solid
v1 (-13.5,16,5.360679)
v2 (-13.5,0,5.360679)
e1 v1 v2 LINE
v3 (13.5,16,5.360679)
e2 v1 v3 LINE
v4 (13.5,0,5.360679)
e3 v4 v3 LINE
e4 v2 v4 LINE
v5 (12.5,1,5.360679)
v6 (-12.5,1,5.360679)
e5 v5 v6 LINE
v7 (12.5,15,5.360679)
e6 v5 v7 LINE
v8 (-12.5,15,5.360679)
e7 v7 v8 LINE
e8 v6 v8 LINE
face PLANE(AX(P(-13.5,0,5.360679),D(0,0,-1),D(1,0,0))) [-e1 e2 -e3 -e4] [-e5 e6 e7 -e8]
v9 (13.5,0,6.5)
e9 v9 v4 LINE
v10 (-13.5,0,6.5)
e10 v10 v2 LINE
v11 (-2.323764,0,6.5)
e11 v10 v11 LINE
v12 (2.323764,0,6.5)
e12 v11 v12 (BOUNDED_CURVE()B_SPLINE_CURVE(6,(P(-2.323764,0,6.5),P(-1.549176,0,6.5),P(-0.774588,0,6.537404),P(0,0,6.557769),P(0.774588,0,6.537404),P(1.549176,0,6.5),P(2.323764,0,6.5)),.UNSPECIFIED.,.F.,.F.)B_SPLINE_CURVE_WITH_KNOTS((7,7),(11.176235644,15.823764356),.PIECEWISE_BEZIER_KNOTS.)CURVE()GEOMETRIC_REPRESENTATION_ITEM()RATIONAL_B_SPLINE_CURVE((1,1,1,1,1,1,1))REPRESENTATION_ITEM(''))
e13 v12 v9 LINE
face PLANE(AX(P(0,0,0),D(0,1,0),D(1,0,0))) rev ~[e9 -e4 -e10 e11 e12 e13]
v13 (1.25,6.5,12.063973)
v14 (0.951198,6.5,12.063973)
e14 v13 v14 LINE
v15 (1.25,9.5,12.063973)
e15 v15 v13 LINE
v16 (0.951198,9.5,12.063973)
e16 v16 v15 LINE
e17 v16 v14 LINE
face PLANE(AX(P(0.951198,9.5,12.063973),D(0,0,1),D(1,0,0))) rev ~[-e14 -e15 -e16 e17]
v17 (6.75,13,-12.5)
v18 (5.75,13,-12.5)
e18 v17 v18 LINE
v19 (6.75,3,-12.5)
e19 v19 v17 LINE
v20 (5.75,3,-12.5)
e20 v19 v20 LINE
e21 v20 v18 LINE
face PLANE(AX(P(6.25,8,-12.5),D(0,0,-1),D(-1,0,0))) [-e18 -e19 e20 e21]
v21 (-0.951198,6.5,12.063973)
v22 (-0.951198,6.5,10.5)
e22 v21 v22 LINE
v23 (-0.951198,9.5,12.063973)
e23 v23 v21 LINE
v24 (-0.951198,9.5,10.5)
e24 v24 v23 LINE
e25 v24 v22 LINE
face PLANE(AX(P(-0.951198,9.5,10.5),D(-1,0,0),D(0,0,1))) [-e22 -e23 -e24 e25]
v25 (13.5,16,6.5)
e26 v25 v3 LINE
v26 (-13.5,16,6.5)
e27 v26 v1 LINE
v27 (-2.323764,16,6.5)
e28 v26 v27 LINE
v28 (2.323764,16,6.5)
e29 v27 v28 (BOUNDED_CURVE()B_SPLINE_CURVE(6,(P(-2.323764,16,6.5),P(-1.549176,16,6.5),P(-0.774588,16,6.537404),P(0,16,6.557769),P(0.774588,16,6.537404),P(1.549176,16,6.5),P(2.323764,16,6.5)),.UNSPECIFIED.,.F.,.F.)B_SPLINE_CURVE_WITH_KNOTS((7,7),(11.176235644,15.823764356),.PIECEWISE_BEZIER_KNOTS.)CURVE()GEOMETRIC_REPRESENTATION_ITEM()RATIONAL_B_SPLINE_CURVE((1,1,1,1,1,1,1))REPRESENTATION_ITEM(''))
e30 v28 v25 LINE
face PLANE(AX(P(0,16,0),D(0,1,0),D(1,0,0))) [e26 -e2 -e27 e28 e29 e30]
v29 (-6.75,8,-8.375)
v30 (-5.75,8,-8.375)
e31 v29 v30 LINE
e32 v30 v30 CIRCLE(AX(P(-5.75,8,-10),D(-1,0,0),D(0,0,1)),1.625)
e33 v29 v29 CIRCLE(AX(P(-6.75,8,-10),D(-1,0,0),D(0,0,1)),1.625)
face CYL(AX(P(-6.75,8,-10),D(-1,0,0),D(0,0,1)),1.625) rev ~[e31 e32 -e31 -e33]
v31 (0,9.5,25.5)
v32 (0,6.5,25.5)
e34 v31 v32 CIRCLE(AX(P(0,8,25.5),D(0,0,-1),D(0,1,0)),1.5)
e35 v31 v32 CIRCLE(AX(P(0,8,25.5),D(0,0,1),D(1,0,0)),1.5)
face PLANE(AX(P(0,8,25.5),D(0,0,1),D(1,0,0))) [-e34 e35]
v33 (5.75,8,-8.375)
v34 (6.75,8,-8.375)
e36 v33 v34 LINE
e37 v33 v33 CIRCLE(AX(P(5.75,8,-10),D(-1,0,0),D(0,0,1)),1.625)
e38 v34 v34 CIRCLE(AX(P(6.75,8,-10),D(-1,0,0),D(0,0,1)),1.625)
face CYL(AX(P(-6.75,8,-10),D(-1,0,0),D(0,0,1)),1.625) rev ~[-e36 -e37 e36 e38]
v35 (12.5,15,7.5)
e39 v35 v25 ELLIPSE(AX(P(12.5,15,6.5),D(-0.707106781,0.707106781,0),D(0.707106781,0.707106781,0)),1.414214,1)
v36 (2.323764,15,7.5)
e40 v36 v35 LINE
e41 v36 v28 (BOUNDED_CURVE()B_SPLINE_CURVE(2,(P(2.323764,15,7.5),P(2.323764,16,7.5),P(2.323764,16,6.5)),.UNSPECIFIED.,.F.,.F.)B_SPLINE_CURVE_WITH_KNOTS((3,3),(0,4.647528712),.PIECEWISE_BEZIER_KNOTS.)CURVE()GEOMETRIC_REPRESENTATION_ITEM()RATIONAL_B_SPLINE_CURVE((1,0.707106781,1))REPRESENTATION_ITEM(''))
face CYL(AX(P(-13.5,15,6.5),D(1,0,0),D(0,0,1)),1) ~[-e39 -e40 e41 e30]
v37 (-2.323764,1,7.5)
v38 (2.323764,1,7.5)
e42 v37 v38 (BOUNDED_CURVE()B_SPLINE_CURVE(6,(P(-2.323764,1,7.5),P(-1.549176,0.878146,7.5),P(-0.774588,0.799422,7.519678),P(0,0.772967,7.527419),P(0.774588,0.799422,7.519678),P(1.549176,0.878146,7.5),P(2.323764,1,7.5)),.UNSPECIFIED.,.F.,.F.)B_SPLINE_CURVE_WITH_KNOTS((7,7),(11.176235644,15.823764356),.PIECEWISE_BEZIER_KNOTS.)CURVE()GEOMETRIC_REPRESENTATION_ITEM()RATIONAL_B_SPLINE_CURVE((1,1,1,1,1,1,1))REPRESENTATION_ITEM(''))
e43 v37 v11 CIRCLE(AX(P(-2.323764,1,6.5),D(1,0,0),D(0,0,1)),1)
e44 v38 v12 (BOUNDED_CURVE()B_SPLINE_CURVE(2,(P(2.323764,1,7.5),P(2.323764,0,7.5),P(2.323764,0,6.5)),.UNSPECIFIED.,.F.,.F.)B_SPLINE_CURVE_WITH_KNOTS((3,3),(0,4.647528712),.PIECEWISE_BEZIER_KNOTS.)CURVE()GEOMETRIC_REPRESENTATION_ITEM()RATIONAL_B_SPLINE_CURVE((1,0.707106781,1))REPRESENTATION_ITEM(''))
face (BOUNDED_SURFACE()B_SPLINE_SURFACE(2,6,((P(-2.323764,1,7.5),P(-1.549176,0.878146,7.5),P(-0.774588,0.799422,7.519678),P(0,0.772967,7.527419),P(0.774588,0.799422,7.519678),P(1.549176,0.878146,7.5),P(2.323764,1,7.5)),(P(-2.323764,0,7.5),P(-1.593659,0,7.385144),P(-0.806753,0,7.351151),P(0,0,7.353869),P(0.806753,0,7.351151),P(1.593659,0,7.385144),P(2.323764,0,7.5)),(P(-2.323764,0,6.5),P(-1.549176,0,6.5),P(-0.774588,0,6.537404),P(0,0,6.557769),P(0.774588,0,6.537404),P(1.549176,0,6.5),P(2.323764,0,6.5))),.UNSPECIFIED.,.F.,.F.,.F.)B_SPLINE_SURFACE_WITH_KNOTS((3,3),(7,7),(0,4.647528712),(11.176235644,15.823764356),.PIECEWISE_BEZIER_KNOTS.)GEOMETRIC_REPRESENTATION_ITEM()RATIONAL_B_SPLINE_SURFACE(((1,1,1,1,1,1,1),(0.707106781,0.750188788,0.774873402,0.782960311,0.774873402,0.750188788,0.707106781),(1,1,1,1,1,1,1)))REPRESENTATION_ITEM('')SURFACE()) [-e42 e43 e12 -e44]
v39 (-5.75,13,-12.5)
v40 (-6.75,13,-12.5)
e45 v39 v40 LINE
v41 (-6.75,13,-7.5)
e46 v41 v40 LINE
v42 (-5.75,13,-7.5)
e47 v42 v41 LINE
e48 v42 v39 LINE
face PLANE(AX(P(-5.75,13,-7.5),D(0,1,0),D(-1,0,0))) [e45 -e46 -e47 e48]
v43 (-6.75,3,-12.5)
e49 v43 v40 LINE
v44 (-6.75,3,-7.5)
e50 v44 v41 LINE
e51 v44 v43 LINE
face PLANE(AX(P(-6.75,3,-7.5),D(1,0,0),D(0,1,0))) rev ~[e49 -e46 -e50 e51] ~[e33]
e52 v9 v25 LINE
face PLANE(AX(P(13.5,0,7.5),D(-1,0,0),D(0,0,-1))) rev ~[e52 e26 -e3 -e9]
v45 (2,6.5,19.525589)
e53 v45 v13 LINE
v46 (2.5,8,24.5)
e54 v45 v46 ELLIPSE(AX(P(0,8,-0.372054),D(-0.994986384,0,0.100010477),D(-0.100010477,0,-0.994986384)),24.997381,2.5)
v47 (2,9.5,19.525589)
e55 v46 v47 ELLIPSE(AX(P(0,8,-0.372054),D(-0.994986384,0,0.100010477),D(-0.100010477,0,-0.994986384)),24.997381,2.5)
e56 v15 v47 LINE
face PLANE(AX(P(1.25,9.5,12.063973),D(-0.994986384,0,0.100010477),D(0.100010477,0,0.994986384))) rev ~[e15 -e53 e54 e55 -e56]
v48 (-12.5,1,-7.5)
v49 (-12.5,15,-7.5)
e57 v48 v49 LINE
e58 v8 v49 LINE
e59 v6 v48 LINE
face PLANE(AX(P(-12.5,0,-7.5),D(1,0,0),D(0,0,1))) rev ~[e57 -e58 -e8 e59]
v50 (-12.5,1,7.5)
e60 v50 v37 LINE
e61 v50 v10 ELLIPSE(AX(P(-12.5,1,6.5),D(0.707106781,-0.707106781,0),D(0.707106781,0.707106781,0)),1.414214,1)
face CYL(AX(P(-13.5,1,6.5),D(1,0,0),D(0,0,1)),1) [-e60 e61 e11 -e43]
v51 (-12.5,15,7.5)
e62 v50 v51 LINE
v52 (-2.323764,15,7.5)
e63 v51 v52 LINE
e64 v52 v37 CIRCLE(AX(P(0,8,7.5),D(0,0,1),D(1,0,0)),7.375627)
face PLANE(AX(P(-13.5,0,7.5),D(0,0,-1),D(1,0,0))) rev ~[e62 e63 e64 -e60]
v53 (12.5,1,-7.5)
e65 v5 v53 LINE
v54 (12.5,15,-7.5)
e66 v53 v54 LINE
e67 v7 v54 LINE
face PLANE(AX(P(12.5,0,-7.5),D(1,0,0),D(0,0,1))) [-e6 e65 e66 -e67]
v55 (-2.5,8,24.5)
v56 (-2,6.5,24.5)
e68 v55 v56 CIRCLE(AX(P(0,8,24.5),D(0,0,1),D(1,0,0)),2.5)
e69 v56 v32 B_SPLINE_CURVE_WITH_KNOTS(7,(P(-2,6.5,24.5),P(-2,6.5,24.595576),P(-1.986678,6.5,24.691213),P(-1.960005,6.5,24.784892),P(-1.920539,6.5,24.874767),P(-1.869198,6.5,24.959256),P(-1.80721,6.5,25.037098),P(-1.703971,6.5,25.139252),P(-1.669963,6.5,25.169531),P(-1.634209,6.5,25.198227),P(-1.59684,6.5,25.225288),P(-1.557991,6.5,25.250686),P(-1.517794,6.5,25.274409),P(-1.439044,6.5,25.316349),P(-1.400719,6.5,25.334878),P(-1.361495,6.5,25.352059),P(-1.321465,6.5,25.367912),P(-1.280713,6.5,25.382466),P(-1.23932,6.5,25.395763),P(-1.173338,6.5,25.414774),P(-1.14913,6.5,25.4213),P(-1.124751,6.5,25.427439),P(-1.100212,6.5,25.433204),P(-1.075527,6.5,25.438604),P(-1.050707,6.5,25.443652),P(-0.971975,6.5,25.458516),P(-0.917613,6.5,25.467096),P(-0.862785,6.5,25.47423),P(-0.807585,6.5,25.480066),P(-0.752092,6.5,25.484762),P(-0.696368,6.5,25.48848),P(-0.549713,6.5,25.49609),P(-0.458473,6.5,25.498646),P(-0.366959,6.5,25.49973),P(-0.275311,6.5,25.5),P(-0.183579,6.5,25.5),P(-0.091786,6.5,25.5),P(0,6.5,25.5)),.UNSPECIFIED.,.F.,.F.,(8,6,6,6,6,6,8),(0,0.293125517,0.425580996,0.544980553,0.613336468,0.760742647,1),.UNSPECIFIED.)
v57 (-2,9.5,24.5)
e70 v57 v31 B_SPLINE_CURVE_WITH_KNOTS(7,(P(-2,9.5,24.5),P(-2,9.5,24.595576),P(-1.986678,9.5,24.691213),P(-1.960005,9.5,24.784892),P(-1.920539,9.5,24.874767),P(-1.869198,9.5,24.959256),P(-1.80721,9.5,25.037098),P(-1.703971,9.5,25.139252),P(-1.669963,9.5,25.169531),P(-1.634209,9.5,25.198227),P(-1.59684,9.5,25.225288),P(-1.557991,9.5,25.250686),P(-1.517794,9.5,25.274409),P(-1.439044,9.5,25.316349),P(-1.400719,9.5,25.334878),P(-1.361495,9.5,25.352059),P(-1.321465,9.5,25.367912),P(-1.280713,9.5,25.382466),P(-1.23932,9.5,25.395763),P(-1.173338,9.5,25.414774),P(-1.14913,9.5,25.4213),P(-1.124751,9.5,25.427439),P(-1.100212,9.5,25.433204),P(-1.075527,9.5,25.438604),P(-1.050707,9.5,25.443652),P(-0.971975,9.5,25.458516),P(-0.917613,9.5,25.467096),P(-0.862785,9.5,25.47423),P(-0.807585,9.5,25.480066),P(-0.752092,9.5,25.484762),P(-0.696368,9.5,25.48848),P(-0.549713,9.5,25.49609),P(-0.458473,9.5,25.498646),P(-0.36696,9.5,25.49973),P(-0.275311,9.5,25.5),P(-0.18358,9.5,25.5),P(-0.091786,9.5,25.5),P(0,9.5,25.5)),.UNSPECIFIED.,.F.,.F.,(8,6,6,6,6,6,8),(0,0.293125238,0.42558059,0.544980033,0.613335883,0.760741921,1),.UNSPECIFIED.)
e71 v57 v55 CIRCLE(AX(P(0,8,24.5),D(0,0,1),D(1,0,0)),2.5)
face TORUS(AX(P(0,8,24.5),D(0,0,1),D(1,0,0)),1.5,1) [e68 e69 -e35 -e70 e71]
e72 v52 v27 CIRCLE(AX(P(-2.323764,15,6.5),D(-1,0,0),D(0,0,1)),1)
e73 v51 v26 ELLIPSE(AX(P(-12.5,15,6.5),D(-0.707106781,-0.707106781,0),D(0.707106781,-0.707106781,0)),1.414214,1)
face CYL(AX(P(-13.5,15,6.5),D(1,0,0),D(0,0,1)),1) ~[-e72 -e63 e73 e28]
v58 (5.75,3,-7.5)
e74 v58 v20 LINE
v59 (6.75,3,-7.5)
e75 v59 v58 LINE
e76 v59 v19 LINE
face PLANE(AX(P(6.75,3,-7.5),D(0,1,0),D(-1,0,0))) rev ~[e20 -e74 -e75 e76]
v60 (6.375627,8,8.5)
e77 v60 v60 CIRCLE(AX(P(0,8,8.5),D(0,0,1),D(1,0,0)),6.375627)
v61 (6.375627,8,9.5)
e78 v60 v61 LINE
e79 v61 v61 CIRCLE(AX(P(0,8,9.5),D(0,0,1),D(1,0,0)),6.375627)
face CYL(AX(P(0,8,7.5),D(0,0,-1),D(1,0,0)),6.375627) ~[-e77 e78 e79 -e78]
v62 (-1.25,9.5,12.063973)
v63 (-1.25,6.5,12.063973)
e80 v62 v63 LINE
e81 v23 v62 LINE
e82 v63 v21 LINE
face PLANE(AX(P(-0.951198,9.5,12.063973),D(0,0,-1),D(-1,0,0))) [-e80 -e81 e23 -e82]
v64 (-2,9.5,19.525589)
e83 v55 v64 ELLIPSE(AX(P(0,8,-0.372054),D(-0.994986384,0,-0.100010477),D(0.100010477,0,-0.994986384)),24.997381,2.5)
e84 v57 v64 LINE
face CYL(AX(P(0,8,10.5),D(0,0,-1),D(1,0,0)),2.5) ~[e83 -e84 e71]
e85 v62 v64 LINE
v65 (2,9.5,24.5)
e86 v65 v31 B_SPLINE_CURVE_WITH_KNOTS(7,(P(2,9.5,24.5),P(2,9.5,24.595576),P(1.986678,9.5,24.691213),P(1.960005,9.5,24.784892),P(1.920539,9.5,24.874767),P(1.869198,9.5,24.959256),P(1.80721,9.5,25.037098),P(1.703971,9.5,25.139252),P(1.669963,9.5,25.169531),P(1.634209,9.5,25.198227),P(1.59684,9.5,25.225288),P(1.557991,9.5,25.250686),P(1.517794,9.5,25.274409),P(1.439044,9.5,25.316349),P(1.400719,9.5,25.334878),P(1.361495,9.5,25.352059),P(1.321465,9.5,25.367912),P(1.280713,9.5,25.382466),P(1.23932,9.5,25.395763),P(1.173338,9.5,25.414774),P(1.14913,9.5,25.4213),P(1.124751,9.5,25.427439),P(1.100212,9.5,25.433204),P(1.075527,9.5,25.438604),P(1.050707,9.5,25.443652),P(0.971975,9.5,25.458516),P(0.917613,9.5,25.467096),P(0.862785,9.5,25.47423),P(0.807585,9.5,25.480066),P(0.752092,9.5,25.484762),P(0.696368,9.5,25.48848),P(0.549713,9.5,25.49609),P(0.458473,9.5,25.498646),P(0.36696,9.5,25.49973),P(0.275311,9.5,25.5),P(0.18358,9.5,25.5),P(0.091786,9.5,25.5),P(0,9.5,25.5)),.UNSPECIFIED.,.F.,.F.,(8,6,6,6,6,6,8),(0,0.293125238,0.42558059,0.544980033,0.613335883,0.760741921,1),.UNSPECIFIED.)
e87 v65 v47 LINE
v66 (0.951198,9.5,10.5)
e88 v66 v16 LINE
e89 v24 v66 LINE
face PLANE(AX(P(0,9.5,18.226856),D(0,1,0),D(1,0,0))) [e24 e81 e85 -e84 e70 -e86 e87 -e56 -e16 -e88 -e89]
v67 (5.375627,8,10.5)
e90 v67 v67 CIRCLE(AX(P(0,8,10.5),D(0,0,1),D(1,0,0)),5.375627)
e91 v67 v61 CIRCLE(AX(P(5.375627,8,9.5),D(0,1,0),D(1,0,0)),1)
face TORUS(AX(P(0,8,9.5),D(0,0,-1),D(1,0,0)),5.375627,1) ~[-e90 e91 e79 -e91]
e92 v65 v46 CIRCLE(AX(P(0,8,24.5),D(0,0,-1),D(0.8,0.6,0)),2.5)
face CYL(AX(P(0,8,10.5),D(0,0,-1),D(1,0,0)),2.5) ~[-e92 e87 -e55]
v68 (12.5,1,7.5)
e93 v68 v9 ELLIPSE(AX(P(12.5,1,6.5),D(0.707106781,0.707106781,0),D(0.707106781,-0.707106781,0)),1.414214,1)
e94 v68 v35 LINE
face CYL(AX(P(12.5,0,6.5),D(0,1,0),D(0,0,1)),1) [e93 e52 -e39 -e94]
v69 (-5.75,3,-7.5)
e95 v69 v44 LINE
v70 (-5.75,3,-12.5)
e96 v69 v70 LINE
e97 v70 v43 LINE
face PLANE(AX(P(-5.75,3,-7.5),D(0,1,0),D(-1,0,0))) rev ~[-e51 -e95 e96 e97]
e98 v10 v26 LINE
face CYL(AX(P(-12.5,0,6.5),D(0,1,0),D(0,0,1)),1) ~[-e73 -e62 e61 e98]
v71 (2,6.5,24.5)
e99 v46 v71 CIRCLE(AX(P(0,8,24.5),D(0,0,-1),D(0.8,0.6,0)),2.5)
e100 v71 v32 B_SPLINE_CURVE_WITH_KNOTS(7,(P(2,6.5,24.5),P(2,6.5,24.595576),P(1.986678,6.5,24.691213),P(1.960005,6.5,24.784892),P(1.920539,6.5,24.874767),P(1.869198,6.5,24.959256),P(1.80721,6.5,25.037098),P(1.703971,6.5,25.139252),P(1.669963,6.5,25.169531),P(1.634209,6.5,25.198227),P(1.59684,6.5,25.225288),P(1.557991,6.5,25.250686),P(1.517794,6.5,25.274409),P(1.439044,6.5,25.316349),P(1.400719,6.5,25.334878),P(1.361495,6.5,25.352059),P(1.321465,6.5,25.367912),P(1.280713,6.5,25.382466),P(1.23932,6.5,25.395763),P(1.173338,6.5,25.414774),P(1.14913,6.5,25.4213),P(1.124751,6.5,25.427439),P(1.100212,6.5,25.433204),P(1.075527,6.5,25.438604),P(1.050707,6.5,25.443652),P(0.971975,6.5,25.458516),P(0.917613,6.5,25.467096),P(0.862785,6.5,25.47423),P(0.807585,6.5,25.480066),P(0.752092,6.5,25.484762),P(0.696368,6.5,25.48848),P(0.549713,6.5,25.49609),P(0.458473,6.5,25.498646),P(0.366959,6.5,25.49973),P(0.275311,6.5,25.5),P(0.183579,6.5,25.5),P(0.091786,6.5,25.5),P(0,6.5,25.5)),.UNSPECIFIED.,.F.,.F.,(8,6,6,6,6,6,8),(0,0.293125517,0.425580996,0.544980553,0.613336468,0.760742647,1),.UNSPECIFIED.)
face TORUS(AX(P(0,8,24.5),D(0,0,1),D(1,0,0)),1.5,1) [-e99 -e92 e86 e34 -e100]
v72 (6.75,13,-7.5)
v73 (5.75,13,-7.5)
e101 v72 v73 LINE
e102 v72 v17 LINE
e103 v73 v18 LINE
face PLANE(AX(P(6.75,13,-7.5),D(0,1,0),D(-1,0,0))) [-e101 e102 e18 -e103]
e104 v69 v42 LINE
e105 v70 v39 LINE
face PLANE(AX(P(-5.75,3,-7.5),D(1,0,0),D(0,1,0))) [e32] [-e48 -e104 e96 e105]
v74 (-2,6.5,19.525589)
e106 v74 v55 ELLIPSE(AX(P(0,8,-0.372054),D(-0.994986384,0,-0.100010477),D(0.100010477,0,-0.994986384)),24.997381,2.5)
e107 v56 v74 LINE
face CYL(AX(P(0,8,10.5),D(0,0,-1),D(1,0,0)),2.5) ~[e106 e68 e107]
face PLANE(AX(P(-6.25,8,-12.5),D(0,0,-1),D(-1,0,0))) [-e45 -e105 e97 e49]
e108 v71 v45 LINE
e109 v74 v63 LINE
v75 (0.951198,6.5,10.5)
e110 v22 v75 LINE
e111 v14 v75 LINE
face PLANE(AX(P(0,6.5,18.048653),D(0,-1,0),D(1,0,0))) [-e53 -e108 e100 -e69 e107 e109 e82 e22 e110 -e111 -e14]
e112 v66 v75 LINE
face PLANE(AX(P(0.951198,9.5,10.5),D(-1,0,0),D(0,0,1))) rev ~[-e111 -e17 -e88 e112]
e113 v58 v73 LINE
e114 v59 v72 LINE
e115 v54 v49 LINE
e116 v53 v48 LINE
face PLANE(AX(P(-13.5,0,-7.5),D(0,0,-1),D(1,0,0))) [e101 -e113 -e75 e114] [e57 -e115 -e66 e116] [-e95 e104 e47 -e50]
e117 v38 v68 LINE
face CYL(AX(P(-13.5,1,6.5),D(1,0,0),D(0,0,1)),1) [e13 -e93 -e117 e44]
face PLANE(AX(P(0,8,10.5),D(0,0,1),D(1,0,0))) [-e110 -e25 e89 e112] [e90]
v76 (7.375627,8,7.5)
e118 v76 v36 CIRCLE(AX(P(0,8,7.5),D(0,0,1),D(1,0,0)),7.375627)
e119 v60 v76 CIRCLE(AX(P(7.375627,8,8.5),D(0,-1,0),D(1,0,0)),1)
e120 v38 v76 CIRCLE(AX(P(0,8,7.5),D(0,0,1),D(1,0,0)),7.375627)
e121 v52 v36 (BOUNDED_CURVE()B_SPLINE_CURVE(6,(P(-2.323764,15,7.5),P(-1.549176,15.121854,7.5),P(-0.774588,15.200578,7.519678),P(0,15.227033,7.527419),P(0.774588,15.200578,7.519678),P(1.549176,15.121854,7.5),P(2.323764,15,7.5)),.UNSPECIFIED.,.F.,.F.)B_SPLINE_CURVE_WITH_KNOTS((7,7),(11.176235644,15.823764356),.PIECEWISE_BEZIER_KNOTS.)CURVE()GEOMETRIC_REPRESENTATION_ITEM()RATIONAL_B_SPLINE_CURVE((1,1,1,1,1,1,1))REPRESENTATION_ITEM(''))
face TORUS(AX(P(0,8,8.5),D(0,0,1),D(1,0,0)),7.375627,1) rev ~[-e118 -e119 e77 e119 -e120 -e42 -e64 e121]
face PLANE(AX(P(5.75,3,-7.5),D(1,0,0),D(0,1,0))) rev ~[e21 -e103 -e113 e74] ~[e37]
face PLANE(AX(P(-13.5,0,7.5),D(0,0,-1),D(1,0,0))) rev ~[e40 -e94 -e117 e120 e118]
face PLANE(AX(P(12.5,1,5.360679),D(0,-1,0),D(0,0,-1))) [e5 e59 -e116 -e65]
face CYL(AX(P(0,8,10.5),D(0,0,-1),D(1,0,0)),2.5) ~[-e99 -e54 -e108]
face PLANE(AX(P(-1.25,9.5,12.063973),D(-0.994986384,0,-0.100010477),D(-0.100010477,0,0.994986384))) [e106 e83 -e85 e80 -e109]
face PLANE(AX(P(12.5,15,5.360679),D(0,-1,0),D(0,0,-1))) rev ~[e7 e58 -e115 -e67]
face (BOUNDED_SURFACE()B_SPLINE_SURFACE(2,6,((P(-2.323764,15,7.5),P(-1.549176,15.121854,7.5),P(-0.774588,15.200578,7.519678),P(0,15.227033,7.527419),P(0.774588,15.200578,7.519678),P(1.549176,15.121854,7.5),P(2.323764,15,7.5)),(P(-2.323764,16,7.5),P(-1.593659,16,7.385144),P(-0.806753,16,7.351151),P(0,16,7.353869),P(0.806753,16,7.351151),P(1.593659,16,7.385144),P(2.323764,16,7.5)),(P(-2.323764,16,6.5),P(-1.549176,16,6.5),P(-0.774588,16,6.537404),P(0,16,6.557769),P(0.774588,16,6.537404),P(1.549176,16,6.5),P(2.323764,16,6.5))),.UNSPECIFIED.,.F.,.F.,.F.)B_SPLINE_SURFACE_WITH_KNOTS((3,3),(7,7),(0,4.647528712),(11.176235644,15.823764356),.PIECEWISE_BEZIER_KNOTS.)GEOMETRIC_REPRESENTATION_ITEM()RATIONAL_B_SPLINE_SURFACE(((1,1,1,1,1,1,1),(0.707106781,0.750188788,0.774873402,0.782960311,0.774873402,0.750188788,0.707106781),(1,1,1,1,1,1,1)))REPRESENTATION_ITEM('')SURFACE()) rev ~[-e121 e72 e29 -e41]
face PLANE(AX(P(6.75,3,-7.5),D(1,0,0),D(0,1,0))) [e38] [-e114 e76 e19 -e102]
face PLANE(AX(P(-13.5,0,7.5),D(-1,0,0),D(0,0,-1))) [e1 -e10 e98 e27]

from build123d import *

# Parameters (mm, degrees)
ESQUISSE1_W             = 27
ESQUISSE1_H             = 15
BOSS_EXTRU_1_DEPTH      = 16
ESQUISSE2_W             = 1
ESQUISSE2_H             = 12.860678648
ENL_V_MAT_EXTRU_1_DEPTH = 16
ESQUISSE3_W             = 12.860678648
ESQUISSE3_H             = 1
ENL_V_MAT_EXTRU_2_DEPTH = 26
ESQUISSE4_R             = 6.375627484
BOSS_EXTRU_2_DEPTH      = 3
ESQUISSE5_R             = 2.5
BOSS_EXTRU_3_DEPTH      = 15
CONG_4_R                = 1
ESQUISSE6_W             = 7.518022456
ESQUISSE6_H             = 15.453712828
ENL_V_MAT_EXTRU_4_DEPTH = 6.5
ESQUISSE7_W             = 7.269073366
ESQUISSE7_H             = 15.09730622
ENL_V_MAT_EXTRU_5_DEPTH = 6.5
ENL_V_MAT_EXTRU_6_DEPTH = 6.5
CONG_5_R                = 1
CONG_6_R                = 1
ESQUISSE9_W             = 1
ESQUISSE9_H             = 10
BOSS_EXTRU_4_DEPTH      = 5
ESQUISSE10_R            = 1.625
ENL_V_MAT_EXTRU_7_DEPTH = 18


with BuildPart() as part:
    # Esquisse1 → Boss.-Extru.1 (new body)
    with BuildSketch(Plane(origin=(0, 0, 0), x_dir=(1, 0, 0), z_dir=(0, 1, 0))):
        Rectangle(ESQUISSE1_W, ESQUISSE1_H)
    extrude(amount=BOSS_EXTRU_1_DEPTH)

    # Esquisse2 → Enlèv. mat.-Extru.1 (cut)
    with BuildSketch(Plane.XZ):
        with Locations((-13, -1.069660676)):
            Rectangle(ESQUISSE2_W, ESQUISSE2_H)
        with Locations((13, -1.069660676)):
            Rectangle(ESQUISSE2_W, ESQUISSE2_H)
    extrude(amount=-ENL_V_MAT_EXTRU_1_DEPTH, mode=Mode.SUBTRACT)

    # Esquisse3 → Enlèv. mat.-Extru.2 (cut)
    with BuildSketch(Plane(origin=(12.5, 0, 0), x_dir=(0, 0, -1), z_dir=(1, 0, 0))):
        with Locations((1.069660676, 0.5)):
            Rectangle(ESQUISSE3_W, ESQUISSE3_H)
        with Locations((1.069660676, 15.5)):
            Rectangle(ESQUISSE3_W, ESQUISSE3_H)
    extrude(amount=-ENL_V_MAT_EXTRU_2_DEPTH, mode=Mode.SUBTRACT)

    # Esquisse4 → Boss.-Extru.2 (add)
    with BuildSketch(Plane.XY.offset(7.5)):
        with Locations((0, 8)):
            Circle(ESQUISSE4_R)
    extrude(amount=BOSS_EXTRU_2_DEPTH)

    # Esquisse5 → Boss.-Extru.3 (add)
    with BuildSketch(Plane.XY.offset(10.5)):
        with Locations((0, 8)):
            Circle(ESQUISSE5_R)
    extrude(amount=BOSS_EXTRU_3_DEPTH)

    # Congé4
    cong_4_edges = [part.edges().sort_by_distance(p)[0] for p in [
        (-2.5, 8, 25.5),
    ]]
    fillet(cong_4_edges, radius=CONG_4_R)

    # Esquisse6 → Enlèv. mat.-Extru.4 (cut)
    with BuildSketch(Plane(origin=(0, 16, 0), x_dir=(1, 0, 0), z_dir=(0, 1, 0))):
        with Locations((0, -18.226856414)):
            Rectangle(ESQUISSE6_W, ESQUISSE6_H)
    extrude(amount=-ENL_V_MAT_EXTRU_4_DEPTH, mode=Mode.SUBTRACT)

    # Esquisse7 → Enlèv. mat.-Extru.5 (cut)
    with BuildSketch(Plane.XZ):
        with Locations((0, 18.04865311)):
            Rectangle(ESQUISSE7_W, ESQUISSE7_H)
    extrude(amount=-ENL_V_MAT_EXTRU_5_DEPTH, mode=Mode.SUBTRACT)

    # Esquisse8 → Enlèv. mat.-Extru.6 (cut)
    with BuildSketch(Plane(origin=(0, 9.5, 0), x_dir=(1, 0, 0), z_dir=(0, 1, 0))):
        Polygon((2, -19.525589234), (2, -10.5), (0.951197678, -10.5), (0.951197678, -12.063973085), (1.25, -12.063973085), align=None)
        Polygon((2.5, -24.5), (2.5, -10.5), (2, -10.5), (2, -19.525589234), align=None)
        Polygon((-2.5, -10.5), (-0.951197678, -10.5), (-0.951197678, -12.063973085), (-1.25, -12.063973085), (-2.5, -24.5), align=None)
    extrude(amount=-ENL_V_MAT_EXTRU_6_DEPTH, mode=Mode.SUBTRACT)

    # Congé5
    cong_5_edges = [part.edges().sort_by_distance(p)[0] for p in [
        (-6.375627484, 8, 7.5),
        (-6.375627484, 8, 10.5),
    ]]
    fillet(cong_5_edges, radius=CONG_5_R)

    # Congé6
    cong_6_edges = [part.edges().sort_by_distance(p)[0] for p in [
        (0, 16, 7.5),
        (0, 0, 7.5),
        (13.5, 8, 7.5),
        (-13.5, 8, 7.5),
    ]]
    fillet(cong_6_edges, radius=CONG_6_R)

    # Esquisse9 → Boss.-Extru.4 (add)
    with BuildSketch(Plane(origin=(0, 0, -7.5), x_dir=(-1, 0, 0), z_dir=(0, 0, -1))):
        with Locations((6.25, 8)):
            Rectangle(ESQUISSE9_W, ESQUISSE9_H)
        with Locations((-6.25, 8)):
            Rectangle(ESQUISSE9_W, ESQUISSE9_H)
    extrude(amount=BOSS_EXTRU_4_DEPTH)

    # Esquisse10 → Enlèv. mat.-Extru.7 (cut)
    with BuildSketch(Plane.ZY.offset(6.75)):
        with Locations((-10, 8)):
            Circle(ESQUISSE10_R)
    extrude(amount=-ENL_V_MAT_EXTRU_7_DEPTH, mode=Mode.SUBTRACT)


solid = part.part
